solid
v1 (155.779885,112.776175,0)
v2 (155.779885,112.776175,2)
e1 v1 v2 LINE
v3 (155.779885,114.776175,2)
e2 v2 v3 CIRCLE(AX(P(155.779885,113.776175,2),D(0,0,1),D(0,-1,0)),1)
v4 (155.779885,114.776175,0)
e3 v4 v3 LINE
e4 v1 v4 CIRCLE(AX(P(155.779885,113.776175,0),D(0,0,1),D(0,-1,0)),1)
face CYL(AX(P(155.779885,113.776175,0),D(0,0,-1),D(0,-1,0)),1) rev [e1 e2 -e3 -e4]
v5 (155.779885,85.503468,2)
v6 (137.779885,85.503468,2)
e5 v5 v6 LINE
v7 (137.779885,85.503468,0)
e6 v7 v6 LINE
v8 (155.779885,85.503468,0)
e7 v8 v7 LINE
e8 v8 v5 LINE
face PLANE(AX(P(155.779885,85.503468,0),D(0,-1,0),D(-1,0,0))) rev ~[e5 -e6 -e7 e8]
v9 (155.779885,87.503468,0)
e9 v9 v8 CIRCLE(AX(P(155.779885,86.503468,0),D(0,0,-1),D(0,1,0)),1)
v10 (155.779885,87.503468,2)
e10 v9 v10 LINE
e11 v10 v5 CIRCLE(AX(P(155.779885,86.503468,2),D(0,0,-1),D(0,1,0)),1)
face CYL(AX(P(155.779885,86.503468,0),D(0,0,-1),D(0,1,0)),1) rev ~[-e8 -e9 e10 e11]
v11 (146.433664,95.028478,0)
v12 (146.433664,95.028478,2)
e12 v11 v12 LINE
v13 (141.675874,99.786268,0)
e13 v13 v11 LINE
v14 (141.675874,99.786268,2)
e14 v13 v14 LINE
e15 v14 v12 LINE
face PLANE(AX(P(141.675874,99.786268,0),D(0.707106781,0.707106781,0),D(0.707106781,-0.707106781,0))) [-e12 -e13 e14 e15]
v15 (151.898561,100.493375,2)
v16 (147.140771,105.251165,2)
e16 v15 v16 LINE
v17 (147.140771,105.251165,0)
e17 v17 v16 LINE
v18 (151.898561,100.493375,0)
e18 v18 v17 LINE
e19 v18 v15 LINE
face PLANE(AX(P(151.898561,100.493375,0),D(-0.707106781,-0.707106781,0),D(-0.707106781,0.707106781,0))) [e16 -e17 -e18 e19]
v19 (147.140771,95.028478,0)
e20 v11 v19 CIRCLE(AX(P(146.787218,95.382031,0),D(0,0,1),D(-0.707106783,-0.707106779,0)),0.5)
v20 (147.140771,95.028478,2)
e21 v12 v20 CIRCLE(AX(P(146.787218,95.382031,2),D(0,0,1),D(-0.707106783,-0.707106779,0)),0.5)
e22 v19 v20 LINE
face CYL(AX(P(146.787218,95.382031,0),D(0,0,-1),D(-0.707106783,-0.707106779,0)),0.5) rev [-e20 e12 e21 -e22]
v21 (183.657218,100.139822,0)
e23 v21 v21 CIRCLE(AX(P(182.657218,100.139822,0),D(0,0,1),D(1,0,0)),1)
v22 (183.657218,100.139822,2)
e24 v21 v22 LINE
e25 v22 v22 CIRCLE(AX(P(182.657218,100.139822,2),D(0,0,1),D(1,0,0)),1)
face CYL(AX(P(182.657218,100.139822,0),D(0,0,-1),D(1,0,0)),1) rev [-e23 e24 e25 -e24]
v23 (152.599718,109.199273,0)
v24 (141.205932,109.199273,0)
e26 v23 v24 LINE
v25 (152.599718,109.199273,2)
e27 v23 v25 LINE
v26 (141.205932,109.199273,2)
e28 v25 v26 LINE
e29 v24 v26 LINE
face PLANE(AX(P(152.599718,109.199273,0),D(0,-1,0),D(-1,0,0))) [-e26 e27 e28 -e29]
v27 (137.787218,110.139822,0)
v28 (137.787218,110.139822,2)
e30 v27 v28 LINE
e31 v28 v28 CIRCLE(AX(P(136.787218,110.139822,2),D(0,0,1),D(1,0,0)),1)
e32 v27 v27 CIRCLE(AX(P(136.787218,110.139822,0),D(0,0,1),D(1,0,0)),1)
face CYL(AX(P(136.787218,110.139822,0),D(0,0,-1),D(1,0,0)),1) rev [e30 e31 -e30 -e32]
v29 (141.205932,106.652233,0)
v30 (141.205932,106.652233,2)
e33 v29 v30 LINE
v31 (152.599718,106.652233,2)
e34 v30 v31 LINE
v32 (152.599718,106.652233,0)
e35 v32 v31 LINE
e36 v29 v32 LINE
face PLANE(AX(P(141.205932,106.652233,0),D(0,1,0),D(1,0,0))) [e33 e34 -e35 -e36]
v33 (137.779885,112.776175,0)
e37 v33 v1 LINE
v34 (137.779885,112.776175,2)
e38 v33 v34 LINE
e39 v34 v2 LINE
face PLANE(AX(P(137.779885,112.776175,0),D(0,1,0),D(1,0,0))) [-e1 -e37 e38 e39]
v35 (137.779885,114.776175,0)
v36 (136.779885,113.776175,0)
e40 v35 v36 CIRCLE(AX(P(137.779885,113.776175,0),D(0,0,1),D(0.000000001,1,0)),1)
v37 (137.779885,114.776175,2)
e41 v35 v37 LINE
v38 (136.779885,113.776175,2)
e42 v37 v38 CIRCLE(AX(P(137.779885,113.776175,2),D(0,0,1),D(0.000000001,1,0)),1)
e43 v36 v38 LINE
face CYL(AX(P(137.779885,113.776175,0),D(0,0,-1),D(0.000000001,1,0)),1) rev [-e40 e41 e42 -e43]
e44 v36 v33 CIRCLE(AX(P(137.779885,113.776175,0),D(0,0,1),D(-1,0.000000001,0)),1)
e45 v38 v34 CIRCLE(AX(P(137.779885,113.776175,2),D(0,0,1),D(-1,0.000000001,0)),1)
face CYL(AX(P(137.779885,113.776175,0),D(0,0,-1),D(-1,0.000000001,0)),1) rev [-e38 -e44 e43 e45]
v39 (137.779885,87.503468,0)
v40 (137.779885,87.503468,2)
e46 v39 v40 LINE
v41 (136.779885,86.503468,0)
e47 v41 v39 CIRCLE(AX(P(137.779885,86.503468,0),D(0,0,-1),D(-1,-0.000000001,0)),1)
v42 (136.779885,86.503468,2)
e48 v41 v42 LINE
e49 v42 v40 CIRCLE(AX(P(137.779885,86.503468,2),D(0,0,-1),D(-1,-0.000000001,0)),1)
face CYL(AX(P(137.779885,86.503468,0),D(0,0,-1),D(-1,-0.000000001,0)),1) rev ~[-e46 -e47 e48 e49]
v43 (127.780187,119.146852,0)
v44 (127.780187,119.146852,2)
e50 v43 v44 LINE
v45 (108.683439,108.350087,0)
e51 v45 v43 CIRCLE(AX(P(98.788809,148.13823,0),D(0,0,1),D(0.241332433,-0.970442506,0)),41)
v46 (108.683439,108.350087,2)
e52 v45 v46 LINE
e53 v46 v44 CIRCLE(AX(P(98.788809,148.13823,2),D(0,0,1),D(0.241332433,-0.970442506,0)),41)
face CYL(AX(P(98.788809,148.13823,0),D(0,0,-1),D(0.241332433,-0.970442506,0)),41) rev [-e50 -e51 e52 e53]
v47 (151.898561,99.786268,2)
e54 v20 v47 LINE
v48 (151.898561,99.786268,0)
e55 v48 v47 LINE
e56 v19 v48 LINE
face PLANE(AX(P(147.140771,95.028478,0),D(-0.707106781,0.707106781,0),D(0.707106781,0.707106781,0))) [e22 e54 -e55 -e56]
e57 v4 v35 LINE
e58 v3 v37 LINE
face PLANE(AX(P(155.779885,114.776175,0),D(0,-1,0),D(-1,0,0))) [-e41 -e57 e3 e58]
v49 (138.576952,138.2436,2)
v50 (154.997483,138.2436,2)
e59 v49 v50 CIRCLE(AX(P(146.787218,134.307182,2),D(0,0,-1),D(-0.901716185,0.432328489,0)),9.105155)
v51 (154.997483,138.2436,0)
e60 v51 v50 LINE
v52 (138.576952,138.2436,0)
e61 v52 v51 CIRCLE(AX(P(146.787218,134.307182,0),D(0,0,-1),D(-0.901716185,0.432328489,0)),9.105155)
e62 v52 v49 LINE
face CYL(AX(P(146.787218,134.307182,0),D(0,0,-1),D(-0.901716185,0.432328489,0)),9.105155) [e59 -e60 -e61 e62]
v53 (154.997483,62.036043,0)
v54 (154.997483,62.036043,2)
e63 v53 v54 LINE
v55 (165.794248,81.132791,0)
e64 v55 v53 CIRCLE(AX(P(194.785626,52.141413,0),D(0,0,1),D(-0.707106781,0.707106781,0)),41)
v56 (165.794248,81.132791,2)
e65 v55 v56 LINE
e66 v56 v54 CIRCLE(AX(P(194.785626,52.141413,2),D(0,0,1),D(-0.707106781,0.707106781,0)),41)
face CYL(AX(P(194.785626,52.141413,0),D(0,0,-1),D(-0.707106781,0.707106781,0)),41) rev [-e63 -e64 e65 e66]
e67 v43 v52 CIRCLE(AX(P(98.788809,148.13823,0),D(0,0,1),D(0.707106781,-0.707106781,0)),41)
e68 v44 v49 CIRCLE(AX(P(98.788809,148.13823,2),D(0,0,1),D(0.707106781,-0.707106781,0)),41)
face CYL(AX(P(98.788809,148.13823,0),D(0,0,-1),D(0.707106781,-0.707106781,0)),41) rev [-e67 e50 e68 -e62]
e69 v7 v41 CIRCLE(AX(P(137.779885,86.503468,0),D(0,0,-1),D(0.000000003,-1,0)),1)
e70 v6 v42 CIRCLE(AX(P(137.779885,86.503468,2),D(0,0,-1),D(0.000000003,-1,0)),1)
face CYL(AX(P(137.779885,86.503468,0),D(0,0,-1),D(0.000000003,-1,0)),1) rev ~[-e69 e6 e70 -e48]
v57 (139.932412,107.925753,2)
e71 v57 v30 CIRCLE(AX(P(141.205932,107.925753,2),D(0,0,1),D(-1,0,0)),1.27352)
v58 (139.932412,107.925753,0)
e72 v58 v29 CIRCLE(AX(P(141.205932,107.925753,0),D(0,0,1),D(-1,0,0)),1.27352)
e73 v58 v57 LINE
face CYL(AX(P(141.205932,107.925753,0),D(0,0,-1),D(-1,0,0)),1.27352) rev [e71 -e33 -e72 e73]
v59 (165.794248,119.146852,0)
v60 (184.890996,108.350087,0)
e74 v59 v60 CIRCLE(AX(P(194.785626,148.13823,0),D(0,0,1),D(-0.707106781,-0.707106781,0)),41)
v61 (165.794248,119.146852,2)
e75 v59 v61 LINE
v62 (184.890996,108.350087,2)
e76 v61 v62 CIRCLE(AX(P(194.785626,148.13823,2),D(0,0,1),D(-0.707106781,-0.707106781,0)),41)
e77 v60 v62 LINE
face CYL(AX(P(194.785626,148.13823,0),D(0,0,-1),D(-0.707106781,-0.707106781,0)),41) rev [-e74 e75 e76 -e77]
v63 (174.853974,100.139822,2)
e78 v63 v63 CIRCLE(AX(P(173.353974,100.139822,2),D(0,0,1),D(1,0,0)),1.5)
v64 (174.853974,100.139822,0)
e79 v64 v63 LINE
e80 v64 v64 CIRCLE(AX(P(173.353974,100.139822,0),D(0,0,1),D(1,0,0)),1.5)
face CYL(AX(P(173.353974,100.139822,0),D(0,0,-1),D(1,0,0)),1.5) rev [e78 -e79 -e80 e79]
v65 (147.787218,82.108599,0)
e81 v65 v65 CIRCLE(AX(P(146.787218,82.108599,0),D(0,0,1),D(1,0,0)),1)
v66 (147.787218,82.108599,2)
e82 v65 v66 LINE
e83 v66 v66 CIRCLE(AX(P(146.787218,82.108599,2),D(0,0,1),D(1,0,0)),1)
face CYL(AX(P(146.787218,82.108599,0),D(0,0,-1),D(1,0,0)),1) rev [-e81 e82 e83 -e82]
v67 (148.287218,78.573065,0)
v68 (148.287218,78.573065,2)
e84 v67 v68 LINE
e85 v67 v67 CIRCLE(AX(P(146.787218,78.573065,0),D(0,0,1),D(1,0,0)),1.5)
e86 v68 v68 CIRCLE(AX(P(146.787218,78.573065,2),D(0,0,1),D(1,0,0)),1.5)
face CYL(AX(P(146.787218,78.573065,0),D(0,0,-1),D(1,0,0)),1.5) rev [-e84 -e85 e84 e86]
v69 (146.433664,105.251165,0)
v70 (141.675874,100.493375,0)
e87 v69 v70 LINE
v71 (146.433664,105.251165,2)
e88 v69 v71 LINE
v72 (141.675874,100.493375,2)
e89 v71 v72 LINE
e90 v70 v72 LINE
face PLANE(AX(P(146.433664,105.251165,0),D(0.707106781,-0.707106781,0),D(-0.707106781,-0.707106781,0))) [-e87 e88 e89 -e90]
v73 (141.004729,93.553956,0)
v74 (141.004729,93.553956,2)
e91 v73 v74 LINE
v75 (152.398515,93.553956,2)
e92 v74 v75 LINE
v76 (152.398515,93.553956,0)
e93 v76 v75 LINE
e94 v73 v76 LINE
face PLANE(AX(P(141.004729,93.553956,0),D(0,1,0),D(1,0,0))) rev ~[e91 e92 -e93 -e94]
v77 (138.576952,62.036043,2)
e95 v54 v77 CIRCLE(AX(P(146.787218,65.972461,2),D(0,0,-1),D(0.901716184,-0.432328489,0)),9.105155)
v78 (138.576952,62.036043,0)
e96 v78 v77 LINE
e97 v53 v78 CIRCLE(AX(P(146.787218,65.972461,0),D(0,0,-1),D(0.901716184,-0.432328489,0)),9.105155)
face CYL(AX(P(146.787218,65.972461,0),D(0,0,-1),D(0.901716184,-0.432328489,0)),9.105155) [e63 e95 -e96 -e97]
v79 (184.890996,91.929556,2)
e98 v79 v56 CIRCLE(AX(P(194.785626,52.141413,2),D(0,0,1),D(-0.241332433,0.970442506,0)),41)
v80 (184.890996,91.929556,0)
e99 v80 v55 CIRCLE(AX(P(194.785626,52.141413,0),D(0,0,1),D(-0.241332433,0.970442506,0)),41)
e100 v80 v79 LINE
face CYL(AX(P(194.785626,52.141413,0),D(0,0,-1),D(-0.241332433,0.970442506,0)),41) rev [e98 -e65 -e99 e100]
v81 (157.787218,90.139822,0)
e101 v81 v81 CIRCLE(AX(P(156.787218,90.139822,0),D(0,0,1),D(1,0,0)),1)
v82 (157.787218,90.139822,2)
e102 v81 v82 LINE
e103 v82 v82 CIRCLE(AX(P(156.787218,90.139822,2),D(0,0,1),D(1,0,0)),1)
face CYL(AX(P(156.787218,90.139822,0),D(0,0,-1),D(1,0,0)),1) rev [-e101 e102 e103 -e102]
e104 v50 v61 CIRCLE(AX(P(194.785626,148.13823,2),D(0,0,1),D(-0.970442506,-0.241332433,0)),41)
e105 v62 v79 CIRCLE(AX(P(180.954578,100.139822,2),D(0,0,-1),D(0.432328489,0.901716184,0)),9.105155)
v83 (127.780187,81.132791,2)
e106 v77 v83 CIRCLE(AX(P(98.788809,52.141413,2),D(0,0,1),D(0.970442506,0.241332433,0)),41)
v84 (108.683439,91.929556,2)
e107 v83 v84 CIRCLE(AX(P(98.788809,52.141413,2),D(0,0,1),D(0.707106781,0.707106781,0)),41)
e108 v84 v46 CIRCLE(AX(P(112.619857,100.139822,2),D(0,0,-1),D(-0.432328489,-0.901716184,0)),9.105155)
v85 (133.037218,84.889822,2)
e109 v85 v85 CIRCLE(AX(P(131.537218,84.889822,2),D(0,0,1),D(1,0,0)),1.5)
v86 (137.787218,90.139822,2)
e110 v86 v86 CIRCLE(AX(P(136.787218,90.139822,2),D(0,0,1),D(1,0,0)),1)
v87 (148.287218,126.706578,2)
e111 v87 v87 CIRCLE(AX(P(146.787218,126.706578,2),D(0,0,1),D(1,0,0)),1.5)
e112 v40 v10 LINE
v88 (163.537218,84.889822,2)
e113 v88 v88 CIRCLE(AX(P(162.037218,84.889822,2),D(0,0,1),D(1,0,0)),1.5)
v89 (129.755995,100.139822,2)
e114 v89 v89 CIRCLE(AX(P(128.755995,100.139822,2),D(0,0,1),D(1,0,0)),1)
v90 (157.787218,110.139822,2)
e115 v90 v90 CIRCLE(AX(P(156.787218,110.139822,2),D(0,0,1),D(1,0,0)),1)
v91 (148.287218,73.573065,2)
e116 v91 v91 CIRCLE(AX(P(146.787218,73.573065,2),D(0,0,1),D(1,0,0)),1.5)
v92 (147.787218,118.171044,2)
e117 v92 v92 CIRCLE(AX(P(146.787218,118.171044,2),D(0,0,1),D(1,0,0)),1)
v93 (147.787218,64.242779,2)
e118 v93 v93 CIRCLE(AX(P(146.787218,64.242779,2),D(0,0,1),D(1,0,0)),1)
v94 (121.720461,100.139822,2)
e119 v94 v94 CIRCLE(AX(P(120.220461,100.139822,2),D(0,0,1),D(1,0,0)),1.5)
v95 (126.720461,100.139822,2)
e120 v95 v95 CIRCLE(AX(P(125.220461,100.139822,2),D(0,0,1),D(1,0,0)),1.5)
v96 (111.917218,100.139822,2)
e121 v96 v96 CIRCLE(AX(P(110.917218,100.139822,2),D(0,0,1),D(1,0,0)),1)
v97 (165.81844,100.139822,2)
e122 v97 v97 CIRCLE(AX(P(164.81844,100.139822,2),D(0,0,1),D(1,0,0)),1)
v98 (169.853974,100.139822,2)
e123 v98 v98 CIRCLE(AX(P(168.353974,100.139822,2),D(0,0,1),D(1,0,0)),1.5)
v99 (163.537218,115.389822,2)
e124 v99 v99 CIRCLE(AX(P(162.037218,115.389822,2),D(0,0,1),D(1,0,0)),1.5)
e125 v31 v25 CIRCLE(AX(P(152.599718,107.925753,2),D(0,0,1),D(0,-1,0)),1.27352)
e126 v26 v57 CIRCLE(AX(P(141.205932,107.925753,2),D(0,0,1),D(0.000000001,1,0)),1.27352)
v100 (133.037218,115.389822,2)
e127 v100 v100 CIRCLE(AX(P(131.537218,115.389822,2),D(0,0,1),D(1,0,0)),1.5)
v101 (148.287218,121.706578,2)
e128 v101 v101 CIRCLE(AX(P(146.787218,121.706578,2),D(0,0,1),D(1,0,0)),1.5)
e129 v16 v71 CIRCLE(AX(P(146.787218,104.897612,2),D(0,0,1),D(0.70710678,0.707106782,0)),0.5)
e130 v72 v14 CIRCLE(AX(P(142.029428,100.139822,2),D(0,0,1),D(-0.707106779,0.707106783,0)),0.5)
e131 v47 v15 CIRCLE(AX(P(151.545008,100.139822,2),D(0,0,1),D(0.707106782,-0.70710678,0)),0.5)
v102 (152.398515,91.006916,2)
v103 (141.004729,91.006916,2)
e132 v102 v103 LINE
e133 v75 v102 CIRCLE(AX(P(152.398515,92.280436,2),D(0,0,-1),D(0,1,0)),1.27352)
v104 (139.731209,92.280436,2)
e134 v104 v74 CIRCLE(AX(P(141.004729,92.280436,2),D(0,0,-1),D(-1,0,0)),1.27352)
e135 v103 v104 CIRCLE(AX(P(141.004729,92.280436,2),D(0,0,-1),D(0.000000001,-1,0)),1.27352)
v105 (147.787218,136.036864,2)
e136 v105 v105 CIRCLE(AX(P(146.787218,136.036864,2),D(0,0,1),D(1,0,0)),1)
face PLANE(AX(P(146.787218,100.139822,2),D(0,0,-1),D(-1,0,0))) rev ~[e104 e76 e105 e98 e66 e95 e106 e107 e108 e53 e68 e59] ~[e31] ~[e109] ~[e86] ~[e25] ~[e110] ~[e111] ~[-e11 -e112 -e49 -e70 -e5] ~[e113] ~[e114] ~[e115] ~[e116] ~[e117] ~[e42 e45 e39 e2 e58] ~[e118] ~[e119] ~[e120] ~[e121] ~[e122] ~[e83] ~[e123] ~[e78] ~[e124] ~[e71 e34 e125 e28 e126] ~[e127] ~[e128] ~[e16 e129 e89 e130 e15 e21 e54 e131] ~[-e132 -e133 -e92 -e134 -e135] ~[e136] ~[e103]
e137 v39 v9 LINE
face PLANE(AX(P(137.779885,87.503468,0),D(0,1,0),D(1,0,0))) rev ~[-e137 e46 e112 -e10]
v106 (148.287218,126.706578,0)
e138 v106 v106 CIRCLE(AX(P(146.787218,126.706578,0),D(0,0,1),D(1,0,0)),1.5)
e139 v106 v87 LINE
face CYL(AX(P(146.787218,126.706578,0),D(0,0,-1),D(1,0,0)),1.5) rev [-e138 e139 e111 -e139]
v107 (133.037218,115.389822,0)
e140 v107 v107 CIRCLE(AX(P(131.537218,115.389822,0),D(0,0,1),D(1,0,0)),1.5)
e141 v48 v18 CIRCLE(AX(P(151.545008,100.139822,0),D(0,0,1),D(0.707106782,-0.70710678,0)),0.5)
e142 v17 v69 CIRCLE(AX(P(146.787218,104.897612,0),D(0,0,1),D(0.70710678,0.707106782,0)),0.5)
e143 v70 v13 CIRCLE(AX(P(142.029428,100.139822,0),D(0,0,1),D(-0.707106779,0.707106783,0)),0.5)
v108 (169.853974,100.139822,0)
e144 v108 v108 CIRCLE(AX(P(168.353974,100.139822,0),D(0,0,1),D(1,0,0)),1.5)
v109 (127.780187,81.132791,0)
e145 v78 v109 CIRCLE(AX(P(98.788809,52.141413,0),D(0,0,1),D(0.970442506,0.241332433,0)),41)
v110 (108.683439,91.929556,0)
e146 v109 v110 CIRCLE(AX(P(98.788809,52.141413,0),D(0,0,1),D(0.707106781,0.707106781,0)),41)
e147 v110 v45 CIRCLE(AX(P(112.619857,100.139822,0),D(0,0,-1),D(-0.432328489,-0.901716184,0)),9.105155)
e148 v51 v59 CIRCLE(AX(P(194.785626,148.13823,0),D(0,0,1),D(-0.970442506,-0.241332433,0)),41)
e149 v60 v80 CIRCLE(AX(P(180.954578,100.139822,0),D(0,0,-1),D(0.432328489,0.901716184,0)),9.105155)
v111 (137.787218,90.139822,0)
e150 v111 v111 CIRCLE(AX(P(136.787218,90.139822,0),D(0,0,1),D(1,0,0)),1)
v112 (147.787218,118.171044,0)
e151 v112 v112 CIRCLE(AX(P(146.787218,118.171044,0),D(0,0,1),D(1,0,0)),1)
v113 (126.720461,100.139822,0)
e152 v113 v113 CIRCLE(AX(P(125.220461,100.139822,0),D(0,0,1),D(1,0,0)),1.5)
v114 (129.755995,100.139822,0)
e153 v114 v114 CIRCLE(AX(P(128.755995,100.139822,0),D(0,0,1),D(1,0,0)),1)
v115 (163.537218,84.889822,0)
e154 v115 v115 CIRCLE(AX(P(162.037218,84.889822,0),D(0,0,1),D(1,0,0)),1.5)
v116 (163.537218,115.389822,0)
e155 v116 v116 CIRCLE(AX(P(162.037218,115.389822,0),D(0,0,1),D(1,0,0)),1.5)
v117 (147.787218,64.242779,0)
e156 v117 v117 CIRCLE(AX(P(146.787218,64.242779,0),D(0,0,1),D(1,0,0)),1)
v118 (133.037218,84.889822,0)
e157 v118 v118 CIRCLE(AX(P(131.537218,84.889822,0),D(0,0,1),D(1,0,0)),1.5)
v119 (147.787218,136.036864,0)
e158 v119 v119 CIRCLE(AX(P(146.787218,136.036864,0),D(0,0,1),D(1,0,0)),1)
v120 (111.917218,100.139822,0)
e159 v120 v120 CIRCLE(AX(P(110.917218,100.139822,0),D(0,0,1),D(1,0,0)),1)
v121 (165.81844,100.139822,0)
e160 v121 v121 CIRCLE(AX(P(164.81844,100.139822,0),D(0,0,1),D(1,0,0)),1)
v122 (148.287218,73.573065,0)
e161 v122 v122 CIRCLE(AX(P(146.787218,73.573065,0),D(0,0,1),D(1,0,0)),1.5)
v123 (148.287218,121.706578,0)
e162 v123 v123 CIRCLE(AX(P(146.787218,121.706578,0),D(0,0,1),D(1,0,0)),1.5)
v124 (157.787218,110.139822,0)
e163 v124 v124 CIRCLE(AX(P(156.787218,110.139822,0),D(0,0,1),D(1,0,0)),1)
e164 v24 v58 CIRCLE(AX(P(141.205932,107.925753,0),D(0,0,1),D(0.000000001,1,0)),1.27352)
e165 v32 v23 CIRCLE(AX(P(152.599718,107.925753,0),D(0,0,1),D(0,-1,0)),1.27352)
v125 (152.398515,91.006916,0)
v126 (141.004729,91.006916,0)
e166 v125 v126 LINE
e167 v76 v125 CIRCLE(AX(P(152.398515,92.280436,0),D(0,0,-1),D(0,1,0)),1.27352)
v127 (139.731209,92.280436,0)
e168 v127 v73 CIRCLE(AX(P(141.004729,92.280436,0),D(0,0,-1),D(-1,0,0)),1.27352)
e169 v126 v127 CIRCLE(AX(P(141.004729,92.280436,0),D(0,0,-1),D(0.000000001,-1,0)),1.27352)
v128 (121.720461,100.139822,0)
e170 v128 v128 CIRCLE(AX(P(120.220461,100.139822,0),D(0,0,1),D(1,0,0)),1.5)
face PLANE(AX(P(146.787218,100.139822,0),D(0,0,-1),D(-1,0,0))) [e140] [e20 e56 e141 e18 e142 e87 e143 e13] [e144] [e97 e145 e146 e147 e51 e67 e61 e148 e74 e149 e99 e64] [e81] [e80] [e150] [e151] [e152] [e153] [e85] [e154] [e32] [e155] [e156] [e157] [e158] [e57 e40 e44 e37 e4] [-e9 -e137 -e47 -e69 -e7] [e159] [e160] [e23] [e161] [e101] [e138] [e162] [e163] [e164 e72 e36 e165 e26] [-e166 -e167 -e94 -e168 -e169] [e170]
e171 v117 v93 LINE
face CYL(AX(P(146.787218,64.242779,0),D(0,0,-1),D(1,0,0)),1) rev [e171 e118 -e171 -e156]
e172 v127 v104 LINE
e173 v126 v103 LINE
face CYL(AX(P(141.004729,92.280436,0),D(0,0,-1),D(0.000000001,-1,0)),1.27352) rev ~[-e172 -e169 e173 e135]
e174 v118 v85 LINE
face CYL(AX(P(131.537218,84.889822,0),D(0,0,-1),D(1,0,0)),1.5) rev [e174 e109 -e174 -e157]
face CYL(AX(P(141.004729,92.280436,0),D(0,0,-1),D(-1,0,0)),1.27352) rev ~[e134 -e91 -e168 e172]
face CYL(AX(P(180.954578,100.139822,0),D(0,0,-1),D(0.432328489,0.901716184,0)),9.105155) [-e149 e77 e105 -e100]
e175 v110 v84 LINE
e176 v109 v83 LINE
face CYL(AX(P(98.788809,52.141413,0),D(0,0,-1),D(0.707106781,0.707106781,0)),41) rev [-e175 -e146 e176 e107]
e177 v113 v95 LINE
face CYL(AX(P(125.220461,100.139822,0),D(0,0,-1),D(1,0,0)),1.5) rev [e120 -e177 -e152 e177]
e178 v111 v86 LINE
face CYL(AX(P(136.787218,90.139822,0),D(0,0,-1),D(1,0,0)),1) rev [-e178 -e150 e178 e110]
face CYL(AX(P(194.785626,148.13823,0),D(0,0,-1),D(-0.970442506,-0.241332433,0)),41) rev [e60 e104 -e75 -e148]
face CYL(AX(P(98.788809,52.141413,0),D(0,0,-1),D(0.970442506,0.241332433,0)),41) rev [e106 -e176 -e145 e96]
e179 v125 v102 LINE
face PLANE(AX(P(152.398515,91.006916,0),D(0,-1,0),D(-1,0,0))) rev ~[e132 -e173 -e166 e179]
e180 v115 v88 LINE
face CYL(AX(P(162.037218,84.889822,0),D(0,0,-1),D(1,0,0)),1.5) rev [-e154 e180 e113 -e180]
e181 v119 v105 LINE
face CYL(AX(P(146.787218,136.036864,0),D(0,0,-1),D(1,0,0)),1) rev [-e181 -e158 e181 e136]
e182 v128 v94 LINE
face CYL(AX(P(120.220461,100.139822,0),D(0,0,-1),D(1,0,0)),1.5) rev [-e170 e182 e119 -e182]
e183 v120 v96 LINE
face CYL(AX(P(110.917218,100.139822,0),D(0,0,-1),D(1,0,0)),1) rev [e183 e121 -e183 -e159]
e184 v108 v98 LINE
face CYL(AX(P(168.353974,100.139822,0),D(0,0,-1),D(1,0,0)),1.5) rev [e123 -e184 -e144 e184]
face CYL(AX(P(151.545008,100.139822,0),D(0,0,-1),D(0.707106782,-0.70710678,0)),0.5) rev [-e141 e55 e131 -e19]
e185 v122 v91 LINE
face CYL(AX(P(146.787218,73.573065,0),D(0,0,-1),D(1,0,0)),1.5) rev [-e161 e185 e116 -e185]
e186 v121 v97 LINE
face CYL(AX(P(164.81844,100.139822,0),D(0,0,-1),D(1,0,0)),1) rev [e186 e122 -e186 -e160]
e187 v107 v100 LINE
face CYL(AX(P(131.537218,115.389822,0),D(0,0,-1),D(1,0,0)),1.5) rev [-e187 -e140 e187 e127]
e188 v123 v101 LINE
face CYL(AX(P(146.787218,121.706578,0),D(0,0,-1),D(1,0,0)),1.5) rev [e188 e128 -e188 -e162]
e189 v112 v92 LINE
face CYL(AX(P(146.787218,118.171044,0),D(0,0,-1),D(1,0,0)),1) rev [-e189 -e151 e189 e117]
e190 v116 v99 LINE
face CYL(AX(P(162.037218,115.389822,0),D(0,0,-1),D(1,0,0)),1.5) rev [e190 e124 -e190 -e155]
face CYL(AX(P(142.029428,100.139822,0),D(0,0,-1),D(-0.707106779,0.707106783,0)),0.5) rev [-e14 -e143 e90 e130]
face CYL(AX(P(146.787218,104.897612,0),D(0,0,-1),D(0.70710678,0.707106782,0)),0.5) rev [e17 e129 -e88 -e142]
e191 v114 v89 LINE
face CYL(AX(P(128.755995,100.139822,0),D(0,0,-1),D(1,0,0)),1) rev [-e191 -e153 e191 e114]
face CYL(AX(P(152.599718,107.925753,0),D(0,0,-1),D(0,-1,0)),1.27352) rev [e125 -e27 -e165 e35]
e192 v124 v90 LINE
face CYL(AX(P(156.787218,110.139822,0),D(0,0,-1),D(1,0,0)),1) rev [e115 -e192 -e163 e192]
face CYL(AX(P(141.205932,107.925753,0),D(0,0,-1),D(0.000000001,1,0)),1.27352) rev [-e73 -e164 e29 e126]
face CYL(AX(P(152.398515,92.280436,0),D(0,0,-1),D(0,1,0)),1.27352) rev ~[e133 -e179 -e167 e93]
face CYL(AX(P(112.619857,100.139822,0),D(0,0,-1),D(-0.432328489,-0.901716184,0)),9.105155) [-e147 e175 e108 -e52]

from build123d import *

# Parameters (mm, degrees)
MODEL_R         = 1
MODEL_R_2       = 1.5
EXTRUDE_1_DEPTH = 2


with BuildPart() as part:
    # Model → 凸台-拉伸1 (new body)
    with BuildSketch(Plane.XY):
        with BuildLine():
            ThreePointArc((165.794247794, 119.146851779), (174.607099306, 112.447515783), (184.890996066, 108.350087077))
            ThreePointArc((184.890996066, 108.350087077), (190.059733129, 100.139821501), (184.890996066, 91.929555925))
            ThreePointArc((184.890996066, 91.929555925), (174.607099306, 87.832127219), (165.794247794, 81.132791223))
            ThreePointArc((165.794247794, 81.132791223), (159.094911797, 72.319939711), (154.997483091, 62.036042951))
            ThreePointArc((154.997483091, 62.036042951), (146.787217515, 56.867305888), (138.576951939, 62.036042951))
            ThreePointArc((138.576951939, 62.036042951), (134.479523234, 72.319939711), (127.780187237, 81.132791223))
            ThreePointArc((127.780187237, 81.132791223), (118.967335725, 87.832127219), (108.683438965, 91.929555925))
            ThreePointArc((108.683438965, 91.929555925), (103.514701902, 100.139821501), (108.683438965, 108.350087077))
            ThreePointArc((108.683438965, 108.350087077), (118.967335725, 112.447515783), (127.780187237, 119.146851779))
            ThreePointArc((127.780187237, 119.146851779), (134.479523234, 127.959703291), (138.576951939, 138.243600051))
            ThreePointArc((138.576951939, 138.243600051), (146.787217515, 143.412337115), (154.997483091, 138.243600051))
            ThreePointArc((154.997483091, 138.243600051), (159.094911797, 127.959703291), (165.794247794, 119.146851779))
        make_face()
        with Locations((156.787217515, 110.139821501)):
            Circle(MODEL_R, mode=Mode.SUBTRACT)
        with Locations((136.787217515, 110.139821501)):
            Circle(MODEL_R, mode=Mode.SUBTRACT)
        with Locations((136.787217515, 90.139821501)):
            Circle(MODEL_R, mode=Mode.SUBTRACT)
        with Locations((156.787217515, 90.139821501)):
            Circle(MODEL_R, mode=Mode.SUBTRACT)
        with Locations((168.353974342, 100.139821501)):
            Circle(MODEL_R_2, mode=Mode.SUBTRACT)
        with Locations((146.787217515, 121.706578327)):
            Circle(MODEL_R_2, mode=Mode.SUBTRACT)
        with Locations((125.220460689, 100.139821501)):
            Circle(MODEL_R_2, mode=Mode.SUBTRACT)
        with Locations((146.787217515, 78.573064675)):
            Circle(MODEL_R_2, mode=Mode.SUBTRACT)
        with Locations((146.787217515, 126.706578327)):
            Circle(MODEL_R_2, mode=Mode.SUBTRACT)
        with Locations((120.220460689, 100.139821501)):
            Circle(MODEL_R_2, mode=Mode.SUBTRACT)
        with Locations((146.787217515, 73.573064675)):
            Circle(MODEL_R_2, mode=Mode.SUBTRACT)
        with Locations((173.353974342, 100.139821501)):
            Circle(MODEL_R_2, mode=Mode.SUBTRACT)
        with Locations((146.787217515, 118.171044401)):
            Circle(MODEL_R, mode=Mode.SUBTRACT)
        with Locations((128.755994615, 100.139821501)):
            Circle(MODEL_R, mode=Mode.SUBTRACT)
        with Locations((146.787217515, 82.108598601)):
            Circle(MODEL_R, mode=Mode.SUBTRACT)
        with Locations((164.818440415, 100.139821501)):
            Circle(MODEL_R, mode=Mode.SUBTRACT)
        with Locations((162.037217515, 115.389821501)):
            Circle(MODEL_R_2, mode=Mode.SUBTRACT)
        with Locations((131.537217515, 115.389821501)):
            Circle(MODEL_R_2, mode=Mode.SUBTRACT)
        with Locations((131.537217515, 84.889821501)):
            Circle(MODEL_R_2, mode=Mode.SUBTRACT)
        with Locations((162.037217515, 84.889821501)):
            Circle(MODEL_R_2, mode=Mode.SUBTRACT)
        with Locations((182.657217515, 100.139821501)):
            Circle(MODEL_R, mode=Mode.SUBTRACT)
        with Locations((146.787217515, 136.036864466)):
            Circle(MODEL_R, mode=Mode.SUBTRACT)
        with Locations((110.917217515, 100.139821501)):
            Circle(MODEL_R, mode=Mode.SUBTRACT)
        with Locations((146.787217515, 64.242778536)):
            Circle(MODEL_R, mode=Mode.SUBTRACT)
        with BuildLine():
            Line((152.398515146, 91.006916148), (141.004728844, 91.006916149))
            ThreePointArc((141.004728844, 91.006916149), (140.104214379, 91.379921453), (139.731209075, 92.280435918))
            ThreePointArc((139.731209075, 92.280435918), (140.104214379, 93.180950383), (141.004728844, 93.553955688))
            Line((141.004728844, 93.553955688), (152.398515146, 93.553955687))
            ThreePointArc((152.398515146, 93.553955687), (153.672034916, 92.280435917), (152.398515146, 91.006916148))
        make_face(mode=Mode.SUBTRACT)
        with BuildLine():
            Line((152.599718137, 109.199272945), (141.205931835, 109.199272945))
            ThreePointArc((141.205931835, 109.199272945), (140.30541737, 108.826267641), (139.932412066, 107.925753176))
            ThreePointArc((139.932412066, 107.925753176), (140.30541737, 107.025238711), (141.205931835, 106.652233406))
            Line((141.205931835, 106.652233406), (152.599718137, 106.652233406))
            ThreePointArc((152.599718137, 106.652233406), (153.873237907, 107.925753176), (152.599718137, 109.199272945))
        make_face(mode=Mode.SUBTRACT)
        with BuildLine():
            Line((151.898560909, 100.493374892), (147.140770906, 105.251164895))
            ThreePointArc((147.140770906, 105.251164895), (146.787217515, 105.397611504), (146.433664125, 105.251164895))
            Line((146.433664125, 105.251164895), (141.675874122, 100.493374892))
            ThreePointArc((141.675874122, 100.493374892), (141.529427512, 100.139821501), (141.675874122, 99.786268111))
            Line((141.675874122, 99.786268111), (146.433664125, 95.028478108))
            ThreePointArc((146.433664125, 95.028478108), (146.787217515, 94.882031498), (147.140770906, 95.028478108))
            Line((147.140770906, 95.028478108), (151.898560909, 99.786268111))
            ThreePointArc((151.898560909, 99.786268111), (152.045007518, 100.139821501), (151.898560909, 100.493374892))
        make_face(mode=Mode.SUBTRACT)
        with BuildLine():
            Line((137.779884988, 87.503468035), (155.779884988, 87.503468035))
            ThreePointArc((155.779884988, 87.503468035), (156.779884988, 86.503468035), (155.779884988, 85.503468035))
            Line((155.779884988, 85.503468035), (137.779884988, 85.503468035))
            ThreePointArc((137.779884988, 85.503468035), (137.072778206, 85.796361253), (136.779884988, 86.503468035))
            ThreePointArc((136.779884988, 86.503468035), (137.072778206, 87.210574816), (137.779884988, 87.503468035))
        make_face(mode=Mode.SUBTRACT)
        with BuildLine():
            Line((137.779884988, 112.776174968), (155.779884988, 112.776174968))
            ThreePointArc((155.779884988, 112.776174968), (156.779884988, 113.776174968), (155.779884988, 114.776174968))
            Line((155.779884988, 114.776174968), (137.779884988, 114.776174968))
            ThreePointArc((137.779884988, 114.776174968), (137.072778206, 114.483281749), (136.779884988, 113.776174968))
            ThreePointArc((136.779884988, 113.776174968), (137.072778206, 113.069068187), (137.779884988, 112.776174968))
        make_face(mode=Mode.SUBTRACT)
    extrude(amount=EXTRUDE_1_DEPTH)


solid = part.part
